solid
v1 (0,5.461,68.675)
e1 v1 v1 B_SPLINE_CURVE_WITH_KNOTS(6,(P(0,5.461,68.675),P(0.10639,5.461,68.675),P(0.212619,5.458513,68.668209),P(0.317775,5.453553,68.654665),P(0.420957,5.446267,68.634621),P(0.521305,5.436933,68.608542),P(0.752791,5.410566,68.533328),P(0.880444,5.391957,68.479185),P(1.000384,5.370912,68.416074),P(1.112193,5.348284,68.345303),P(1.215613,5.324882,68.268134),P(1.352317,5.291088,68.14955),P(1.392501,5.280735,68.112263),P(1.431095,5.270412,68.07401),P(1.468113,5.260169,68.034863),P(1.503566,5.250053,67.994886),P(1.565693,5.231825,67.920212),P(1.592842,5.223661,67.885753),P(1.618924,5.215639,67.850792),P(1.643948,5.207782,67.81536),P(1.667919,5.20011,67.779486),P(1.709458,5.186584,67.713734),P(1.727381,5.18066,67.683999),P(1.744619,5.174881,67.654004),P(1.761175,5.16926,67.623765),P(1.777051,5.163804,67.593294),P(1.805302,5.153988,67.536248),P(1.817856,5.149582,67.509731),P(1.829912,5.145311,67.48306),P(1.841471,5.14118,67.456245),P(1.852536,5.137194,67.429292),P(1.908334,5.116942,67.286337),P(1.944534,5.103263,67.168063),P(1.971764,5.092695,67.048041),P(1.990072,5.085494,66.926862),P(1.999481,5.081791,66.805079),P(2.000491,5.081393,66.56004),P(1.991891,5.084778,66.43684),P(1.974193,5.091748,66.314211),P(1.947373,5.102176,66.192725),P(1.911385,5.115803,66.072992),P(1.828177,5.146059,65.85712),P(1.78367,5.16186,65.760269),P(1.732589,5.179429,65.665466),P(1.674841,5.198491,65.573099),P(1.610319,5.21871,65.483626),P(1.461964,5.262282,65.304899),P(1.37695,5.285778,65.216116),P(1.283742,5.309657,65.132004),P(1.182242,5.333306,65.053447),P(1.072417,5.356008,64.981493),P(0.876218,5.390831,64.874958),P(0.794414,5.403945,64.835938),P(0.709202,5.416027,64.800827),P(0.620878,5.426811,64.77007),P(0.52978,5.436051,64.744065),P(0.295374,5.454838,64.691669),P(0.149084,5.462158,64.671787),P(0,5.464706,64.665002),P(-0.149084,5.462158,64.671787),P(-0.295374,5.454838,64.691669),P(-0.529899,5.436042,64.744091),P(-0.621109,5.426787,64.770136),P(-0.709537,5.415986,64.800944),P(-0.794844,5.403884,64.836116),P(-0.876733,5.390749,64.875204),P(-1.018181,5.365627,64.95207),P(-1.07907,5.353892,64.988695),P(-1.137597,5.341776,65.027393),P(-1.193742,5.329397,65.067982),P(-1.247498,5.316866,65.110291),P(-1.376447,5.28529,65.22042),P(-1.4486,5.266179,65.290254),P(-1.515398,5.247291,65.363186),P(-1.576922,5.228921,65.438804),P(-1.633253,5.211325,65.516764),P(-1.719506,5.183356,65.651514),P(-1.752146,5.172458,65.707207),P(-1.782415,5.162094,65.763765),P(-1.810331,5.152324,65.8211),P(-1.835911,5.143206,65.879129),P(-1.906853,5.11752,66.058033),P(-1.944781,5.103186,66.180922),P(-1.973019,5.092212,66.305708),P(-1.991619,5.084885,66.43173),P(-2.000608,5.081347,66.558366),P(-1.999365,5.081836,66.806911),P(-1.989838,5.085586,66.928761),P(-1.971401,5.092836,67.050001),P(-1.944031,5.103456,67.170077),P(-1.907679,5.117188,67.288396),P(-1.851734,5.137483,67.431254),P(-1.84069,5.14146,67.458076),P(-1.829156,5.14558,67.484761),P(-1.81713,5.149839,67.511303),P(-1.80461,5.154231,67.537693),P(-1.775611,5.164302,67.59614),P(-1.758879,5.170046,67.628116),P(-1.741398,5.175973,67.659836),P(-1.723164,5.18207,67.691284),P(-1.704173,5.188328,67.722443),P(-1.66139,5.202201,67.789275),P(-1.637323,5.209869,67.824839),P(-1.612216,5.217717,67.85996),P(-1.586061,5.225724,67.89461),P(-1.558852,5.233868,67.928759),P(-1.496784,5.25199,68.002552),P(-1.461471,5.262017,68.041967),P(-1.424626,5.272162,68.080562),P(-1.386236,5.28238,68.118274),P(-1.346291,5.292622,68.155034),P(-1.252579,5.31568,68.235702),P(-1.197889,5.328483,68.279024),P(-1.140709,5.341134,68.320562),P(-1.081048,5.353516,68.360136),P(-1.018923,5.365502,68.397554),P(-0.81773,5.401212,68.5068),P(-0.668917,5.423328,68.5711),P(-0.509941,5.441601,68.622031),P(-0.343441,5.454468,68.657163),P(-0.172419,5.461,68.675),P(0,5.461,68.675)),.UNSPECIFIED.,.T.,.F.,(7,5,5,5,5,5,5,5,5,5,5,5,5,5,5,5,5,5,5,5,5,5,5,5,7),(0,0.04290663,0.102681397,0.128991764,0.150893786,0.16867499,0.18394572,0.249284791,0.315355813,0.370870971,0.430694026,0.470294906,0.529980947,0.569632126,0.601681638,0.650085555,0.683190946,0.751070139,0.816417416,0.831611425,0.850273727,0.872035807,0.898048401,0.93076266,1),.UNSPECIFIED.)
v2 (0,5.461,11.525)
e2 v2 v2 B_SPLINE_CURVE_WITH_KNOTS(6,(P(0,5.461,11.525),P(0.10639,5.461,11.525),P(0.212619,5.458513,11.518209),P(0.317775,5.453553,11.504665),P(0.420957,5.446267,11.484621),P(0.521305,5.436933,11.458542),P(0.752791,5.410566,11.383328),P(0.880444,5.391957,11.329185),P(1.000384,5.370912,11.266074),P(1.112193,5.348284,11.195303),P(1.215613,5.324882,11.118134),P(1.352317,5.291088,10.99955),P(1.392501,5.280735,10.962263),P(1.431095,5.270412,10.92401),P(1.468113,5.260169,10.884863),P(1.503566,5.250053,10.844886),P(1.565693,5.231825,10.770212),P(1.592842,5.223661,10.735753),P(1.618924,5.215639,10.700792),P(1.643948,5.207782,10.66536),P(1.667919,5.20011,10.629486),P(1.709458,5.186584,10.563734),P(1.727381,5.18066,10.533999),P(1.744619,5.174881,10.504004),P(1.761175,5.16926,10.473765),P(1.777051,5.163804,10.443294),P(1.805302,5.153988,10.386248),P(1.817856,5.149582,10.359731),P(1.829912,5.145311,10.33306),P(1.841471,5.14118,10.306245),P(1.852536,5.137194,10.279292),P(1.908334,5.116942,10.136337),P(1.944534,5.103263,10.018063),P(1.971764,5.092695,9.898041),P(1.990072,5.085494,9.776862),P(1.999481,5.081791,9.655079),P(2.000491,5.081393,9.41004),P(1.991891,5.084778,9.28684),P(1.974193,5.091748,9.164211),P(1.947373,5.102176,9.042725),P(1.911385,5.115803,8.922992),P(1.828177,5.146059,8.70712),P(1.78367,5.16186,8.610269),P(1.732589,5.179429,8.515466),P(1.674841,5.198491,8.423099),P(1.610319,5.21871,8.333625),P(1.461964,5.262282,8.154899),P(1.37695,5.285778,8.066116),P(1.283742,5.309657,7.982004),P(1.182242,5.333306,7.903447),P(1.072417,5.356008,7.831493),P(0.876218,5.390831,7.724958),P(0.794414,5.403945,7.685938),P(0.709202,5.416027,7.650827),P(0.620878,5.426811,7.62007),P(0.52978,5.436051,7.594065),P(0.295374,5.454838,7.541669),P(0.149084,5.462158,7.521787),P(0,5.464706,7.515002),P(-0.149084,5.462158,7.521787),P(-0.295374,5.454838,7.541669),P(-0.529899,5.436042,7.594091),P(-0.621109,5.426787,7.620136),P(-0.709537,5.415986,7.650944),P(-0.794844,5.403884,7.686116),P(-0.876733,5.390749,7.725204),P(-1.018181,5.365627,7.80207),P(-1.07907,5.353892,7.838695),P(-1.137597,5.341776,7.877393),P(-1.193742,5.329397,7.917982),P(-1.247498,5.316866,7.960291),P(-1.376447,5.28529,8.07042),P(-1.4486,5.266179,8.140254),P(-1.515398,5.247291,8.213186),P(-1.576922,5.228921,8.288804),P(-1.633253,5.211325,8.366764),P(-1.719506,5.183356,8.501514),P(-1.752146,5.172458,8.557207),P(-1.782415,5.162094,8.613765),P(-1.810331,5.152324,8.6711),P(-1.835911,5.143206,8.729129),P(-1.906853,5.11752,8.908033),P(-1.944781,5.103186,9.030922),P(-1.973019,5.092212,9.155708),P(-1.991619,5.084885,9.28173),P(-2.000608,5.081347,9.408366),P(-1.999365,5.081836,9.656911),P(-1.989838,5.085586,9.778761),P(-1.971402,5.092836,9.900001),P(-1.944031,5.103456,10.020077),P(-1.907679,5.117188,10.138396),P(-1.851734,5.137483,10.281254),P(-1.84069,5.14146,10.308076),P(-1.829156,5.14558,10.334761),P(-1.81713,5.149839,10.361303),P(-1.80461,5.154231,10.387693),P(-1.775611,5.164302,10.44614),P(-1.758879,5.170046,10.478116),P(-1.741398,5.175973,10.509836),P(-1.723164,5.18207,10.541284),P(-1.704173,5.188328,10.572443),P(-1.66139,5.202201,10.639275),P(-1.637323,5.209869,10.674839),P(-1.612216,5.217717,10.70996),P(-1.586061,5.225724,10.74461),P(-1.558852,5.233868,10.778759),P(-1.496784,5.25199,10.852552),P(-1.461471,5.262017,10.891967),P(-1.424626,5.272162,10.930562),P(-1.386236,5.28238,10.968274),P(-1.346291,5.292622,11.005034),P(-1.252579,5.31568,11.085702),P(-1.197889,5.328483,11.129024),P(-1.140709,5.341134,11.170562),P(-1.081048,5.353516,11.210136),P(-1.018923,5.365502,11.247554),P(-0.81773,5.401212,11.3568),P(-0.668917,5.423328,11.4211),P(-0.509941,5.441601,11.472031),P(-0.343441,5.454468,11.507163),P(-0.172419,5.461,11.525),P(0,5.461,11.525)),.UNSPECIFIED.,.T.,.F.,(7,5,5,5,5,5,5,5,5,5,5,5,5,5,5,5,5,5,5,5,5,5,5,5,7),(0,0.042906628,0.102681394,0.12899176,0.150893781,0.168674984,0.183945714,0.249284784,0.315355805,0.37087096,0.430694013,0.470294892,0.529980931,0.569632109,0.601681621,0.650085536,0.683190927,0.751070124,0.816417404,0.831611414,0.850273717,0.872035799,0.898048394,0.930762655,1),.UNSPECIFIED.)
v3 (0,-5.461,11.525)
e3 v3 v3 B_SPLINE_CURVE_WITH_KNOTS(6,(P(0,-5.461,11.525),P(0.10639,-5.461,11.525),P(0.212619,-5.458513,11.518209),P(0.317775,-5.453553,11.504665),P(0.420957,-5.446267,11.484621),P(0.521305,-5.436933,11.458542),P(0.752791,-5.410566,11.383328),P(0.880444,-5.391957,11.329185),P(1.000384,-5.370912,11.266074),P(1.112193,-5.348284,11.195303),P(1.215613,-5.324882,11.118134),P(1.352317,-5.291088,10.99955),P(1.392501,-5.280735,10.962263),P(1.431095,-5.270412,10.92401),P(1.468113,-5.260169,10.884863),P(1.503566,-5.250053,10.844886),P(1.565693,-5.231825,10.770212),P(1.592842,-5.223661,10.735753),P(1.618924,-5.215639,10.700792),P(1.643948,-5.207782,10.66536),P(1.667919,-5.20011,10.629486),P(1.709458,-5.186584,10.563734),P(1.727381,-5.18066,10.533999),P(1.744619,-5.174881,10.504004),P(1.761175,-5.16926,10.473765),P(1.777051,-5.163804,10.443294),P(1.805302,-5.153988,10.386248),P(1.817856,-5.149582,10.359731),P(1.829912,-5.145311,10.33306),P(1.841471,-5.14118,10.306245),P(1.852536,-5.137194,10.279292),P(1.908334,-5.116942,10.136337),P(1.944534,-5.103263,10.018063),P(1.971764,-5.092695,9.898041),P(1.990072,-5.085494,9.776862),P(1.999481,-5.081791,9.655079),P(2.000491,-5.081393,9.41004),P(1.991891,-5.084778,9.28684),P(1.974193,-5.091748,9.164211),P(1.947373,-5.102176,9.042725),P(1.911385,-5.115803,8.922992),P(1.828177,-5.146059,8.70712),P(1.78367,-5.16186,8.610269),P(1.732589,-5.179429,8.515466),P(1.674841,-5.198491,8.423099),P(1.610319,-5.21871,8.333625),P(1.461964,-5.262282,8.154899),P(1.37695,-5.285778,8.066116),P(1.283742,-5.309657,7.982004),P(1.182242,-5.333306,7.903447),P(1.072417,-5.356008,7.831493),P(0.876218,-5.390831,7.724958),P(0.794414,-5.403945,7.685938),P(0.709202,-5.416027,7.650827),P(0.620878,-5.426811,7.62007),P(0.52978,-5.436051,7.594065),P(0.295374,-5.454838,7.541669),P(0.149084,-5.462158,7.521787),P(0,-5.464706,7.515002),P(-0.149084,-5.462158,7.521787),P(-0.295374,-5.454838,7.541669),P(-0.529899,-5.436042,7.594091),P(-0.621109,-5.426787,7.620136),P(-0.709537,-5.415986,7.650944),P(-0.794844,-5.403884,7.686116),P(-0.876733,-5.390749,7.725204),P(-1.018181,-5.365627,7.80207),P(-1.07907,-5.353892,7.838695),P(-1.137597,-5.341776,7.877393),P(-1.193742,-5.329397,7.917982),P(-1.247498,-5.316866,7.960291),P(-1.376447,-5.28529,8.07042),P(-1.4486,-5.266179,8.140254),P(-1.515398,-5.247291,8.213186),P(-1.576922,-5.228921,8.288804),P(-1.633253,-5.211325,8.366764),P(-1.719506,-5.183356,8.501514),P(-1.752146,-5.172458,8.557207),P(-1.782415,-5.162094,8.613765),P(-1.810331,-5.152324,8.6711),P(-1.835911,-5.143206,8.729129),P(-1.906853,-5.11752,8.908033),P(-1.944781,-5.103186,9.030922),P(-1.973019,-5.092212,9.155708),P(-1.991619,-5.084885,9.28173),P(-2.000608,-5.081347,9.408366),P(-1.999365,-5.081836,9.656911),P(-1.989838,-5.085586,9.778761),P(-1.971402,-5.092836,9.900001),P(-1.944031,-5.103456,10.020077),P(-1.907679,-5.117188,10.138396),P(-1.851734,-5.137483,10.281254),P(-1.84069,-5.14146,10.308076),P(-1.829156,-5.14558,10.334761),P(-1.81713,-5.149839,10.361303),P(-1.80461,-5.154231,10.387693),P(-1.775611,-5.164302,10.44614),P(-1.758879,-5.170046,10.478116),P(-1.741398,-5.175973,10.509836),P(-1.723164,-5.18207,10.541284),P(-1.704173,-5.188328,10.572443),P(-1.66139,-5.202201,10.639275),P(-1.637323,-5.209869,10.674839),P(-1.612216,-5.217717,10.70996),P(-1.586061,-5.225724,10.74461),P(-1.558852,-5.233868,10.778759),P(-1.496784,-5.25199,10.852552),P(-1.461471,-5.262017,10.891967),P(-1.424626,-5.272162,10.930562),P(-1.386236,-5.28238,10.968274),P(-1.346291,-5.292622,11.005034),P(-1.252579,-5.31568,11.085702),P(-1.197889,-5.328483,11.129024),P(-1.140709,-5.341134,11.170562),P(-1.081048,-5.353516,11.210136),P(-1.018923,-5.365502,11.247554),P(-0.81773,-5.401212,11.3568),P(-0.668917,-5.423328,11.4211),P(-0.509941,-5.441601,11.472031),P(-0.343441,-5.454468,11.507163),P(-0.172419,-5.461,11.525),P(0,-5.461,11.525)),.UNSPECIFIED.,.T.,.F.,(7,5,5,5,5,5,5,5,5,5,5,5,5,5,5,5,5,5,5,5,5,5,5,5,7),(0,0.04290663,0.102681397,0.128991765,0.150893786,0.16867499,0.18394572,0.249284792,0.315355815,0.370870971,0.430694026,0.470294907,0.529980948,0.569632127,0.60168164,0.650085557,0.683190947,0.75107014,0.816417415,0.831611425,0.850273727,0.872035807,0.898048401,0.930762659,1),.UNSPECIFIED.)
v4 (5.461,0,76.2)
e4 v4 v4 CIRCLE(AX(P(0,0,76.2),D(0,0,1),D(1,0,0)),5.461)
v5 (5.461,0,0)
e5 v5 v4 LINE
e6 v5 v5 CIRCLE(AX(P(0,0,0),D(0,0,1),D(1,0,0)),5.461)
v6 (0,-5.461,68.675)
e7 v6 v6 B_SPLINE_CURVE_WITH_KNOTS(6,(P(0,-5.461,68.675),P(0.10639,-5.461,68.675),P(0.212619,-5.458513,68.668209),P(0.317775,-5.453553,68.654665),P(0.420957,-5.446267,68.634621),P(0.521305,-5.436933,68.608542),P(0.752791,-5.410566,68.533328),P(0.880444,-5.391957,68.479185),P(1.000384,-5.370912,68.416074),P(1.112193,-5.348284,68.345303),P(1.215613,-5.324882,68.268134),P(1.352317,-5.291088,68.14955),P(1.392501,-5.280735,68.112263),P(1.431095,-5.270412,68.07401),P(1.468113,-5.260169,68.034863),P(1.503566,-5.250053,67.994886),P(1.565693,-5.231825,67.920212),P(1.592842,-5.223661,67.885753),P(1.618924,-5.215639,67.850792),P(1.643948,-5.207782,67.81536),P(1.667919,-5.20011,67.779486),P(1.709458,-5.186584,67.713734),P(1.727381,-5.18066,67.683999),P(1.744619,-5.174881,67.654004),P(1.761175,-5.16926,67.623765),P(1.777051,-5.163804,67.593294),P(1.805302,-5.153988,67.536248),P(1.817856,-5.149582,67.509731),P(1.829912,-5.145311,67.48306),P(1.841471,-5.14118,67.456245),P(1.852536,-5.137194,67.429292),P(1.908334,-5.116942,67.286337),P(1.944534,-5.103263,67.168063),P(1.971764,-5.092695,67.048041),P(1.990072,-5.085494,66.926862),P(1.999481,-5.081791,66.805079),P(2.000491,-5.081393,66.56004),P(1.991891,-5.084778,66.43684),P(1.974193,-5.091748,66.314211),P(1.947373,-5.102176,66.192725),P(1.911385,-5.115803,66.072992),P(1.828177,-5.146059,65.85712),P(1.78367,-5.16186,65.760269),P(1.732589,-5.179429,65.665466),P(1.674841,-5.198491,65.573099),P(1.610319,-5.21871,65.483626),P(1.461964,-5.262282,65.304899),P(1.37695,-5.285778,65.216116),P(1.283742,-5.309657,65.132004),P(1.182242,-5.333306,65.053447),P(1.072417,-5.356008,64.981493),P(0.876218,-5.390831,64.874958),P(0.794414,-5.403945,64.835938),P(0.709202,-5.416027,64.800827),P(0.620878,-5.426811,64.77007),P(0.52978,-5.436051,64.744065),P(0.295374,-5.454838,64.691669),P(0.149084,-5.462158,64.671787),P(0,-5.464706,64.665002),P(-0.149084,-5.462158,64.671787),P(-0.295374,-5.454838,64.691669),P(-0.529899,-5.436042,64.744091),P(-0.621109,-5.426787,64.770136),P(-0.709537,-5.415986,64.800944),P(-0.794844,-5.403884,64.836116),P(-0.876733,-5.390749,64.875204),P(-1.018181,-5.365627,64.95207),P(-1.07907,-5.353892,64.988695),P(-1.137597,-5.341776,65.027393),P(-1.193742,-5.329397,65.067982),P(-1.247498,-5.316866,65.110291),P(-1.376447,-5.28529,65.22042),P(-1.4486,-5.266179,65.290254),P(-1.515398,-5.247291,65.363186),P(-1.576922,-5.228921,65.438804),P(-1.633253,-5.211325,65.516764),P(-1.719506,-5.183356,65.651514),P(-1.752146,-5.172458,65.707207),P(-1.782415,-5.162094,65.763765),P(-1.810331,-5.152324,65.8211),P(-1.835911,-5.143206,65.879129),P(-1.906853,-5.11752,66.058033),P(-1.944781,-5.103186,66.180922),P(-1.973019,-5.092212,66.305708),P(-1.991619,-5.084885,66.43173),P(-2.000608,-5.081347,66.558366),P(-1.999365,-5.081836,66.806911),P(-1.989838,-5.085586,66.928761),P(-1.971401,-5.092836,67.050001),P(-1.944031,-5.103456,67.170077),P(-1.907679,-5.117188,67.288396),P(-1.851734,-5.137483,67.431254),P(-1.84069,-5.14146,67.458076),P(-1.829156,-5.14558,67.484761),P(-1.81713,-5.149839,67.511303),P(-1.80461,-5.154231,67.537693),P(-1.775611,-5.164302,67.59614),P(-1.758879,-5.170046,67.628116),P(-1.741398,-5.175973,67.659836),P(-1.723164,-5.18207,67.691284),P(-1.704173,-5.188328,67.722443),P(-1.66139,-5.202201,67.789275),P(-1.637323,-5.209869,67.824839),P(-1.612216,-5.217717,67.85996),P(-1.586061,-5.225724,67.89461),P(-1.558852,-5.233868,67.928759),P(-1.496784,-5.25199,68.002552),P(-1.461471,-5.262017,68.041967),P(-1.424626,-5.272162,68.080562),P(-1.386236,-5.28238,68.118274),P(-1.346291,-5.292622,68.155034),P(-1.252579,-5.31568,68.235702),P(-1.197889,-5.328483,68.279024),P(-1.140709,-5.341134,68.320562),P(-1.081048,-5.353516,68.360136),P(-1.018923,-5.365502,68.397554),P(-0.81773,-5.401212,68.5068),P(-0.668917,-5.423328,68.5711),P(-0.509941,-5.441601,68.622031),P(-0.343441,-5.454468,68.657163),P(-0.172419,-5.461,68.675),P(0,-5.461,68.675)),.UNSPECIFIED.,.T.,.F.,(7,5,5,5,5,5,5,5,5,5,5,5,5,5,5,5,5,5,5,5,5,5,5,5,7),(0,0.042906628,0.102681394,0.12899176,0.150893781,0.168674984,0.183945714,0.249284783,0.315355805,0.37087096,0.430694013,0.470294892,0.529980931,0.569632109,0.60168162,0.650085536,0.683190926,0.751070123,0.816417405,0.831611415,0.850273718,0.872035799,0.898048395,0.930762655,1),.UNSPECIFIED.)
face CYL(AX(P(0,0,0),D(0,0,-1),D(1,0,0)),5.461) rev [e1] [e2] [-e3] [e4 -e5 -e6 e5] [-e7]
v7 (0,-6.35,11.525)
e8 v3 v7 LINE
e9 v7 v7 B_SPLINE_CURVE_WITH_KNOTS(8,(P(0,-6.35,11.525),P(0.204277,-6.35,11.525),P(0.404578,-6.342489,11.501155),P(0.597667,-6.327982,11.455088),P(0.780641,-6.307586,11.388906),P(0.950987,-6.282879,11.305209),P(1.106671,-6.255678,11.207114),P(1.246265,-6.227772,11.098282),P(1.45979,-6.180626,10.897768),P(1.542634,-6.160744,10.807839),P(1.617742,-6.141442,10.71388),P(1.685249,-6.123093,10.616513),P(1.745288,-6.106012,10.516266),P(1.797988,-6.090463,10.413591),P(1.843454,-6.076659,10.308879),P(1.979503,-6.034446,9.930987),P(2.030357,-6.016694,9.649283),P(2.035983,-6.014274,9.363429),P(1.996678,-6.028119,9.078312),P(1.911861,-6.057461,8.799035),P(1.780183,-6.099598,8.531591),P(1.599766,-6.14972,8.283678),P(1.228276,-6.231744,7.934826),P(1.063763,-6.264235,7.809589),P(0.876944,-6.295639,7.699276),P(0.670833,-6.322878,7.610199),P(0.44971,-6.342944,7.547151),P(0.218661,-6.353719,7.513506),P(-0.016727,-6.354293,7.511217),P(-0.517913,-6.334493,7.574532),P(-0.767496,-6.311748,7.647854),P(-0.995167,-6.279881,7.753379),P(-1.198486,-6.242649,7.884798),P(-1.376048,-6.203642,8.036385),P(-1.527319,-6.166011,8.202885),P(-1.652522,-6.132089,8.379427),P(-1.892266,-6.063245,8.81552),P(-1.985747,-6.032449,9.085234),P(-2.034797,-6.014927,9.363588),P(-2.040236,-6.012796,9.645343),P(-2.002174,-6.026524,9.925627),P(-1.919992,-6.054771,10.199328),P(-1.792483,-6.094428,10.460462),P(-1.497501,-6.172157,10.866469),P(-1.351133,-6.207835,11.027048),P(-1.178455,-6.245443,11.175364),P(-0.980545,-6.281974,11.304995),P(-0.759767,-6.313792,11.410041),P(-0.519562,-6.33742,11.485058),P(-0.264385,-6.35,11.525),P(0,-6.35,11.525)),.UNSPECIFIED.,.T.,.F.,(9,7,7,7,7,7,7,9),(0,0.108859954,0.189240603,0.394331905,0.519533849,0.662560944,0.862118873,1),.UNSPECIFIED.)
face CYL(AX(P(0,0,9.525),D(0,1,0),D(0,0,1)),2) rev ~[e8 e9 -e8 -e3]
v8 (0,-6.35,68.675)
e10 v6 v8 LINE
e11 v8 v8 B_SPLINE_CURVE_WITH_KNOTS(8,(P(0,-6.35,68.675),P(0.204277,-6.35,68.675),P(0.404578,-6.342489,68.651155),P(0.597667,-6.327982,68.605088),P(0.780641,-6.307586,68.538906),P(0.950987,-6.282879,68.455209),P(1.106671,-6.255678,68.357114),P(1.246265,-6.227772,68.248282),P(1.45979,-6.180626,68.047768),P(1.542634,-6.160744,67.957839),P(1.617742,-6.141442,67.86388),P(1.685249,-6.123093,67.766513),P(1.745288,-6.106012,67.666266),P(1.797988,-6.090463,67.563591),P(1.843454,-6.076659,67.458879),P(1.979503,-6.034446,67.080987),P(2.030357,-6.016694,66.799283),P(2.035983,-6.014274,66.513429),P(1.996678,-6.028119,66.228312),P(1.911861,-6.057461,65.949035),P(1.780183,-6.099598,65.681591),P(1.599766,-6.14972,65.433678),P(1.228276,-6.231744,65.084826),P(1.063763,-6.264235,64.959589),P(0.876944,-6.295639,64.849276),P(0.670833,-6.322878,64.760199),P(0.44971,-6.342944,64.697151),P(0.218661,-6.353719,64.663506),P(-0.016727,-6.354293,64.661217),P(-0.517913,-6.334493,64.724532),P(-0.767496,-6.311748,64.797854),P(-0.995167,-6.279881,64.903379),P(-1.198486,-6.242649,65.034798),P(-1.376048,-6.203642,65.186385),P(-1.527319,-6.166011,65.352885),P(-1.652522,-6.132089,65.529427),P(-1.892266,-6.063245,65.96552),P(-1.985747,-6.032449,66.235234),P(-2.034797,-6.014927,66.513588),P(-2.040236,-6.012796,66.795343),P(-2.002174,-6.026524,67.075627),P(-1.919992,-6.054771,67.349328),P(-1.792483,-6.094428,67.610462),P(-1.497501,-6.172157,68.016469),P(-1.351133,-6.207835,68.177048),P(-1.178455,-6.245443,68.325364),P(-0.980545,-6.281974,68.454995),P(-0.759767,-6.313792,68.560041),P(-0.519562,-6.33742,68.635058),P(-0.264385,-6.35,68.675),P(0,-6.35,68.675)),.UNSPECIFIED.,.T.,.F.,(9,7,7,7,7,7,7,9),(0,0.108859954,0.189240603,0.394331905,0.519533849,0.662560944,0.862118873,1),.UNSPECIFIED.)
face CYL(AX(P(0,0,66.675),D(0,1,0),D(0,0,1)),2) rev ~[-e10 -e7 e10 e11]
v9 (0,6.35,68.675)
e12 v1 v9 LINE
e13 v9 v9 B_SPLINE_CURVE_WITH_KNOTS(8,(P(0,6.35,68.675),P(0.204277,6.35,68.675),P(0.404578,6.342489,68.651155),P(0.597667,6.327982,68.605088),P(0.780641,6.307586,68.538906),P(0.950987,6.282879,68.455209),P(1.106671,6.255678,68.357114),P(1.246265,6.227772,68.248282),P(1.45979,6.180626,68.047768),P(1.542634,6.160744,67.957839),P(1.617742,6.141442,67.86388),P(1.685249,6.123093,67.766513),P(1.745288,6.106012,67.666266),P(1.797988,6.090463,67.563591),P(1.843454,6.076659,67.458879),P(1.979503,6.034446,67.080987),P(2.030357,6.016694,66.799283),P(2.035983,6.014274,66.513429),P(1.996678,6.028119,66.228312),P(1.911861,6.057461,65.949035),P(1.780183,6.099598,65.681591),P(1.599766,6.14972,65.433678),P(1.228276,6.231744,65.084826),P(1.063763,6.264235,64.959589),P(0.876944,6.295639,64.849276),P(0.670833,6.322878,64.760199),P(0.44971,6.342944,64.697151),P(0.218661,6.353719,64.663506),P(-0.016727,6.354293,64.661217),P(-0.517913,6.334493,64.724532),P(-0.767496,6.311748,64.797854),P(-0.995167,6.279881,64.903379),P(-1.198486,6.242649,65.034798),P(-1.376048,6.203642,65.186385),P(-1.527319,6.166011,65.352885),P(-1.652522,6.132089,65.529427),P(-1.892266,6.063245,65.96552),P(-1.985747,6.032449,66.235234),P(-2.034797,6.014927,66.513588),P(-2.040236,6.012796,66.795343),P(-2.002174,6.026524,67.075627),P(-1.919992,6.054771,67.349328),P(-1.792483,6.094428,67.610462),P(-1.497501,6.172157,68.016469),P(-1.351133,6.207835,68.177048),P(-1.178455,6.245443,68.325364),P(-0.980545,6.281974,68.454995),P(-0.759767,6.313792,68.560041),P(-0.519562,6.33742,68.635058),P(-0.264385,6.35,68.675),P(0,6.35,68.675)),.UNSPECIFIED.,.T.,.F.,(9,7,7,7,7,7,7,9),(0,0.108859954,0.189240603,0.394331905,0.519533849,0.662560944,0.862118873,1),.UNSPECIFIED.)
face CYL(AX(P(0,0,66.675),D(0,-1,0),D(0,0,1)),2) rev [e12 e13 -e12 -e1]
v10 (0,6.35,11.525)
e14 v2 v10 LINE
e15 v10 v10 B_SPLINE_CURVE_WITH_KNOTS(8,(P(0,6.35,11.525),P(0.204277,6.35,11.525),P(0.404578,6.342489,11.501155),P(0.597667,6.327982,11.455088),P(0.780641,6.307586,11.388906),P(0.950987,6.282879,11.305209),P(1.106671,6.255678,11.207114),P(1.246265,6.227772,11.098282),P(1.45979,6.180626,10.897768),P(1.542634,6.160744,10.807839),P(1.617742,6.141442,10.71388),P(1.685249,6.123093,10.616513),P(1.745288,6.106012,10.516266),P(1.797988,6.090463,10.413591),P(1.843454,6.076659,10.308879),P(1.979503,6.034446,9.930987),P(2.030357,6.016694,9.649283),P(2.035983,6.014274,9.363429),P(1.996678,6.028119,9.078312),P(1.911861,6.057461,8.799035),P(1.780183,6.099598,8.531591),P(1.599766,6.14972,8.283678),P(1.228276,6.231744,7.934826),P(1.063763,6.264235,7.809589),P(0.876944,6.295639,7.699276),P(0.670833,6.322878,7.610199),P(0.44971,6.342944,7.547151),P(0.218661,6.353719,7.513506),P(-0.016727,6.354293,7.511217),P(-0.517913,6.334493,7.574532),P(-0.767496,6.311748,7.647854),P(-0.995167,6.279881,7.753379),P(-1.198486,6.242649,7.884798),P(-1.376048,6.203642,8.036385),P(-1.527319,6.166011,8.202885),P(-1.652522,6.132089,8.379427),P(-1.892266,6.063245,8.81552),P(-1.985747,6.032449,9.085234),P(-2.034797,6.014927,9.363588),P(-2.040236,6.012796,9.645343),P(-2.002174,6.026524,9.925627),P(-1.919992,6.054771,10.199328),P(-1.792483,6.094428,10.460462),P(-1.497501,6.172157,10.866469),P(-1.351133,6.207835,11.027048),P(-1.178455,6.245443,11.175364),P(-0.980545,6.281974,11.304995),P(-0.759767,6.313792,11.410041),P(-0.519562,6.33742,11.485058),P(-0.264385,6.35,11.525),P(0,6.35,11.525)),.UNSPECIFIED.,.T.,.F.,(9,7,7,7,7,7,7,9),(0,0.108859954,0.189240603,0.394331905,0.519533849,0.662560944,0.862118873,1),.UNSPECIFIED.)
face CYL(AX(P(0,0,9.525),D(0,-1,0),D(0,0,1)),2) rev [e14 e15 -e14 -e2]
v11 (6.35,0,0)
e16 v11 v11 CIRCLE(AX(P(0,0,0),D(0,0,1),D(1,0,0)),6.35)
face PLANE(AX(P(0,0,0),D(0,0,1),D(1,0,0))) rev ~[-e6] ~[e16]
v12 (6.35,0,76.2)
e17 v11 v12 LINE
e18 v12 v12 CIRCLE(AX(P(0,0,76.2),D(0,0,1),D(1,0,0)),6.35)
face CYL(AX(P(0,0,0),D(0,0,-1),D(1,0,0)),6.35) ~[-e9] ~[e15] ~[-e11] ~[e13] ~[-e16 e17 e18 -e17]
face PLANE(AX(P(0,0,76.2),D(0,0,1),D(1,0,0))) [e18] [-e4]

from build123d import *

# Parameters (mm, degrees)
SKETCH1_R               = 6.35
SKETCH1_R_2             = 5.461
EXTRUDE1_DEPTH          = 76.2
SKETCH2_R               = 2
CUT_EXTRUDE1_DEPTH      = 38.1
CUT_EXTRUDE1_DEPTH_BACK = 38.1


with BuildPart() as part:
    # Sketch1 → Extrude1 (new body)
    with BuildSketch(Plane.XY):
        Circle(SKETCH1_R)
        Circle(SKETCH1_R_2, mode=Mode.SUBTRACT)
    extrude(amount=EXTRUDE1_DEPTH)

    # Sketch2 → Cut-Extrude1 (cut, two sides)
    with BuildSketch(Plane(origin=(0, 0, 0), x_dir=(1, 0, 0), z_dir=(0, 1, 0))) as cut_extrude1_sk:
        with Locations(Location((0, -9.525, 0), (0, 0, 270))):  # turned: the seam where the file's is
            Circle(SKETCH2_R)
        with Locations(Location((0, -66.675, 0), (0, 0, 270))):  # turned: the seam where the file's is
            Circle(SKETCH2_R)
    extrude(amount=CUT_EXTRUDE1_DEPTH, mode=Mode.SUBTRACT)
    extrude(cut_extrude1_sk.sketch, amount=-CUT_EXTRUDE1_DEPTH_BACK, mode=Mode.SUBTRACT)


solid = part.part
